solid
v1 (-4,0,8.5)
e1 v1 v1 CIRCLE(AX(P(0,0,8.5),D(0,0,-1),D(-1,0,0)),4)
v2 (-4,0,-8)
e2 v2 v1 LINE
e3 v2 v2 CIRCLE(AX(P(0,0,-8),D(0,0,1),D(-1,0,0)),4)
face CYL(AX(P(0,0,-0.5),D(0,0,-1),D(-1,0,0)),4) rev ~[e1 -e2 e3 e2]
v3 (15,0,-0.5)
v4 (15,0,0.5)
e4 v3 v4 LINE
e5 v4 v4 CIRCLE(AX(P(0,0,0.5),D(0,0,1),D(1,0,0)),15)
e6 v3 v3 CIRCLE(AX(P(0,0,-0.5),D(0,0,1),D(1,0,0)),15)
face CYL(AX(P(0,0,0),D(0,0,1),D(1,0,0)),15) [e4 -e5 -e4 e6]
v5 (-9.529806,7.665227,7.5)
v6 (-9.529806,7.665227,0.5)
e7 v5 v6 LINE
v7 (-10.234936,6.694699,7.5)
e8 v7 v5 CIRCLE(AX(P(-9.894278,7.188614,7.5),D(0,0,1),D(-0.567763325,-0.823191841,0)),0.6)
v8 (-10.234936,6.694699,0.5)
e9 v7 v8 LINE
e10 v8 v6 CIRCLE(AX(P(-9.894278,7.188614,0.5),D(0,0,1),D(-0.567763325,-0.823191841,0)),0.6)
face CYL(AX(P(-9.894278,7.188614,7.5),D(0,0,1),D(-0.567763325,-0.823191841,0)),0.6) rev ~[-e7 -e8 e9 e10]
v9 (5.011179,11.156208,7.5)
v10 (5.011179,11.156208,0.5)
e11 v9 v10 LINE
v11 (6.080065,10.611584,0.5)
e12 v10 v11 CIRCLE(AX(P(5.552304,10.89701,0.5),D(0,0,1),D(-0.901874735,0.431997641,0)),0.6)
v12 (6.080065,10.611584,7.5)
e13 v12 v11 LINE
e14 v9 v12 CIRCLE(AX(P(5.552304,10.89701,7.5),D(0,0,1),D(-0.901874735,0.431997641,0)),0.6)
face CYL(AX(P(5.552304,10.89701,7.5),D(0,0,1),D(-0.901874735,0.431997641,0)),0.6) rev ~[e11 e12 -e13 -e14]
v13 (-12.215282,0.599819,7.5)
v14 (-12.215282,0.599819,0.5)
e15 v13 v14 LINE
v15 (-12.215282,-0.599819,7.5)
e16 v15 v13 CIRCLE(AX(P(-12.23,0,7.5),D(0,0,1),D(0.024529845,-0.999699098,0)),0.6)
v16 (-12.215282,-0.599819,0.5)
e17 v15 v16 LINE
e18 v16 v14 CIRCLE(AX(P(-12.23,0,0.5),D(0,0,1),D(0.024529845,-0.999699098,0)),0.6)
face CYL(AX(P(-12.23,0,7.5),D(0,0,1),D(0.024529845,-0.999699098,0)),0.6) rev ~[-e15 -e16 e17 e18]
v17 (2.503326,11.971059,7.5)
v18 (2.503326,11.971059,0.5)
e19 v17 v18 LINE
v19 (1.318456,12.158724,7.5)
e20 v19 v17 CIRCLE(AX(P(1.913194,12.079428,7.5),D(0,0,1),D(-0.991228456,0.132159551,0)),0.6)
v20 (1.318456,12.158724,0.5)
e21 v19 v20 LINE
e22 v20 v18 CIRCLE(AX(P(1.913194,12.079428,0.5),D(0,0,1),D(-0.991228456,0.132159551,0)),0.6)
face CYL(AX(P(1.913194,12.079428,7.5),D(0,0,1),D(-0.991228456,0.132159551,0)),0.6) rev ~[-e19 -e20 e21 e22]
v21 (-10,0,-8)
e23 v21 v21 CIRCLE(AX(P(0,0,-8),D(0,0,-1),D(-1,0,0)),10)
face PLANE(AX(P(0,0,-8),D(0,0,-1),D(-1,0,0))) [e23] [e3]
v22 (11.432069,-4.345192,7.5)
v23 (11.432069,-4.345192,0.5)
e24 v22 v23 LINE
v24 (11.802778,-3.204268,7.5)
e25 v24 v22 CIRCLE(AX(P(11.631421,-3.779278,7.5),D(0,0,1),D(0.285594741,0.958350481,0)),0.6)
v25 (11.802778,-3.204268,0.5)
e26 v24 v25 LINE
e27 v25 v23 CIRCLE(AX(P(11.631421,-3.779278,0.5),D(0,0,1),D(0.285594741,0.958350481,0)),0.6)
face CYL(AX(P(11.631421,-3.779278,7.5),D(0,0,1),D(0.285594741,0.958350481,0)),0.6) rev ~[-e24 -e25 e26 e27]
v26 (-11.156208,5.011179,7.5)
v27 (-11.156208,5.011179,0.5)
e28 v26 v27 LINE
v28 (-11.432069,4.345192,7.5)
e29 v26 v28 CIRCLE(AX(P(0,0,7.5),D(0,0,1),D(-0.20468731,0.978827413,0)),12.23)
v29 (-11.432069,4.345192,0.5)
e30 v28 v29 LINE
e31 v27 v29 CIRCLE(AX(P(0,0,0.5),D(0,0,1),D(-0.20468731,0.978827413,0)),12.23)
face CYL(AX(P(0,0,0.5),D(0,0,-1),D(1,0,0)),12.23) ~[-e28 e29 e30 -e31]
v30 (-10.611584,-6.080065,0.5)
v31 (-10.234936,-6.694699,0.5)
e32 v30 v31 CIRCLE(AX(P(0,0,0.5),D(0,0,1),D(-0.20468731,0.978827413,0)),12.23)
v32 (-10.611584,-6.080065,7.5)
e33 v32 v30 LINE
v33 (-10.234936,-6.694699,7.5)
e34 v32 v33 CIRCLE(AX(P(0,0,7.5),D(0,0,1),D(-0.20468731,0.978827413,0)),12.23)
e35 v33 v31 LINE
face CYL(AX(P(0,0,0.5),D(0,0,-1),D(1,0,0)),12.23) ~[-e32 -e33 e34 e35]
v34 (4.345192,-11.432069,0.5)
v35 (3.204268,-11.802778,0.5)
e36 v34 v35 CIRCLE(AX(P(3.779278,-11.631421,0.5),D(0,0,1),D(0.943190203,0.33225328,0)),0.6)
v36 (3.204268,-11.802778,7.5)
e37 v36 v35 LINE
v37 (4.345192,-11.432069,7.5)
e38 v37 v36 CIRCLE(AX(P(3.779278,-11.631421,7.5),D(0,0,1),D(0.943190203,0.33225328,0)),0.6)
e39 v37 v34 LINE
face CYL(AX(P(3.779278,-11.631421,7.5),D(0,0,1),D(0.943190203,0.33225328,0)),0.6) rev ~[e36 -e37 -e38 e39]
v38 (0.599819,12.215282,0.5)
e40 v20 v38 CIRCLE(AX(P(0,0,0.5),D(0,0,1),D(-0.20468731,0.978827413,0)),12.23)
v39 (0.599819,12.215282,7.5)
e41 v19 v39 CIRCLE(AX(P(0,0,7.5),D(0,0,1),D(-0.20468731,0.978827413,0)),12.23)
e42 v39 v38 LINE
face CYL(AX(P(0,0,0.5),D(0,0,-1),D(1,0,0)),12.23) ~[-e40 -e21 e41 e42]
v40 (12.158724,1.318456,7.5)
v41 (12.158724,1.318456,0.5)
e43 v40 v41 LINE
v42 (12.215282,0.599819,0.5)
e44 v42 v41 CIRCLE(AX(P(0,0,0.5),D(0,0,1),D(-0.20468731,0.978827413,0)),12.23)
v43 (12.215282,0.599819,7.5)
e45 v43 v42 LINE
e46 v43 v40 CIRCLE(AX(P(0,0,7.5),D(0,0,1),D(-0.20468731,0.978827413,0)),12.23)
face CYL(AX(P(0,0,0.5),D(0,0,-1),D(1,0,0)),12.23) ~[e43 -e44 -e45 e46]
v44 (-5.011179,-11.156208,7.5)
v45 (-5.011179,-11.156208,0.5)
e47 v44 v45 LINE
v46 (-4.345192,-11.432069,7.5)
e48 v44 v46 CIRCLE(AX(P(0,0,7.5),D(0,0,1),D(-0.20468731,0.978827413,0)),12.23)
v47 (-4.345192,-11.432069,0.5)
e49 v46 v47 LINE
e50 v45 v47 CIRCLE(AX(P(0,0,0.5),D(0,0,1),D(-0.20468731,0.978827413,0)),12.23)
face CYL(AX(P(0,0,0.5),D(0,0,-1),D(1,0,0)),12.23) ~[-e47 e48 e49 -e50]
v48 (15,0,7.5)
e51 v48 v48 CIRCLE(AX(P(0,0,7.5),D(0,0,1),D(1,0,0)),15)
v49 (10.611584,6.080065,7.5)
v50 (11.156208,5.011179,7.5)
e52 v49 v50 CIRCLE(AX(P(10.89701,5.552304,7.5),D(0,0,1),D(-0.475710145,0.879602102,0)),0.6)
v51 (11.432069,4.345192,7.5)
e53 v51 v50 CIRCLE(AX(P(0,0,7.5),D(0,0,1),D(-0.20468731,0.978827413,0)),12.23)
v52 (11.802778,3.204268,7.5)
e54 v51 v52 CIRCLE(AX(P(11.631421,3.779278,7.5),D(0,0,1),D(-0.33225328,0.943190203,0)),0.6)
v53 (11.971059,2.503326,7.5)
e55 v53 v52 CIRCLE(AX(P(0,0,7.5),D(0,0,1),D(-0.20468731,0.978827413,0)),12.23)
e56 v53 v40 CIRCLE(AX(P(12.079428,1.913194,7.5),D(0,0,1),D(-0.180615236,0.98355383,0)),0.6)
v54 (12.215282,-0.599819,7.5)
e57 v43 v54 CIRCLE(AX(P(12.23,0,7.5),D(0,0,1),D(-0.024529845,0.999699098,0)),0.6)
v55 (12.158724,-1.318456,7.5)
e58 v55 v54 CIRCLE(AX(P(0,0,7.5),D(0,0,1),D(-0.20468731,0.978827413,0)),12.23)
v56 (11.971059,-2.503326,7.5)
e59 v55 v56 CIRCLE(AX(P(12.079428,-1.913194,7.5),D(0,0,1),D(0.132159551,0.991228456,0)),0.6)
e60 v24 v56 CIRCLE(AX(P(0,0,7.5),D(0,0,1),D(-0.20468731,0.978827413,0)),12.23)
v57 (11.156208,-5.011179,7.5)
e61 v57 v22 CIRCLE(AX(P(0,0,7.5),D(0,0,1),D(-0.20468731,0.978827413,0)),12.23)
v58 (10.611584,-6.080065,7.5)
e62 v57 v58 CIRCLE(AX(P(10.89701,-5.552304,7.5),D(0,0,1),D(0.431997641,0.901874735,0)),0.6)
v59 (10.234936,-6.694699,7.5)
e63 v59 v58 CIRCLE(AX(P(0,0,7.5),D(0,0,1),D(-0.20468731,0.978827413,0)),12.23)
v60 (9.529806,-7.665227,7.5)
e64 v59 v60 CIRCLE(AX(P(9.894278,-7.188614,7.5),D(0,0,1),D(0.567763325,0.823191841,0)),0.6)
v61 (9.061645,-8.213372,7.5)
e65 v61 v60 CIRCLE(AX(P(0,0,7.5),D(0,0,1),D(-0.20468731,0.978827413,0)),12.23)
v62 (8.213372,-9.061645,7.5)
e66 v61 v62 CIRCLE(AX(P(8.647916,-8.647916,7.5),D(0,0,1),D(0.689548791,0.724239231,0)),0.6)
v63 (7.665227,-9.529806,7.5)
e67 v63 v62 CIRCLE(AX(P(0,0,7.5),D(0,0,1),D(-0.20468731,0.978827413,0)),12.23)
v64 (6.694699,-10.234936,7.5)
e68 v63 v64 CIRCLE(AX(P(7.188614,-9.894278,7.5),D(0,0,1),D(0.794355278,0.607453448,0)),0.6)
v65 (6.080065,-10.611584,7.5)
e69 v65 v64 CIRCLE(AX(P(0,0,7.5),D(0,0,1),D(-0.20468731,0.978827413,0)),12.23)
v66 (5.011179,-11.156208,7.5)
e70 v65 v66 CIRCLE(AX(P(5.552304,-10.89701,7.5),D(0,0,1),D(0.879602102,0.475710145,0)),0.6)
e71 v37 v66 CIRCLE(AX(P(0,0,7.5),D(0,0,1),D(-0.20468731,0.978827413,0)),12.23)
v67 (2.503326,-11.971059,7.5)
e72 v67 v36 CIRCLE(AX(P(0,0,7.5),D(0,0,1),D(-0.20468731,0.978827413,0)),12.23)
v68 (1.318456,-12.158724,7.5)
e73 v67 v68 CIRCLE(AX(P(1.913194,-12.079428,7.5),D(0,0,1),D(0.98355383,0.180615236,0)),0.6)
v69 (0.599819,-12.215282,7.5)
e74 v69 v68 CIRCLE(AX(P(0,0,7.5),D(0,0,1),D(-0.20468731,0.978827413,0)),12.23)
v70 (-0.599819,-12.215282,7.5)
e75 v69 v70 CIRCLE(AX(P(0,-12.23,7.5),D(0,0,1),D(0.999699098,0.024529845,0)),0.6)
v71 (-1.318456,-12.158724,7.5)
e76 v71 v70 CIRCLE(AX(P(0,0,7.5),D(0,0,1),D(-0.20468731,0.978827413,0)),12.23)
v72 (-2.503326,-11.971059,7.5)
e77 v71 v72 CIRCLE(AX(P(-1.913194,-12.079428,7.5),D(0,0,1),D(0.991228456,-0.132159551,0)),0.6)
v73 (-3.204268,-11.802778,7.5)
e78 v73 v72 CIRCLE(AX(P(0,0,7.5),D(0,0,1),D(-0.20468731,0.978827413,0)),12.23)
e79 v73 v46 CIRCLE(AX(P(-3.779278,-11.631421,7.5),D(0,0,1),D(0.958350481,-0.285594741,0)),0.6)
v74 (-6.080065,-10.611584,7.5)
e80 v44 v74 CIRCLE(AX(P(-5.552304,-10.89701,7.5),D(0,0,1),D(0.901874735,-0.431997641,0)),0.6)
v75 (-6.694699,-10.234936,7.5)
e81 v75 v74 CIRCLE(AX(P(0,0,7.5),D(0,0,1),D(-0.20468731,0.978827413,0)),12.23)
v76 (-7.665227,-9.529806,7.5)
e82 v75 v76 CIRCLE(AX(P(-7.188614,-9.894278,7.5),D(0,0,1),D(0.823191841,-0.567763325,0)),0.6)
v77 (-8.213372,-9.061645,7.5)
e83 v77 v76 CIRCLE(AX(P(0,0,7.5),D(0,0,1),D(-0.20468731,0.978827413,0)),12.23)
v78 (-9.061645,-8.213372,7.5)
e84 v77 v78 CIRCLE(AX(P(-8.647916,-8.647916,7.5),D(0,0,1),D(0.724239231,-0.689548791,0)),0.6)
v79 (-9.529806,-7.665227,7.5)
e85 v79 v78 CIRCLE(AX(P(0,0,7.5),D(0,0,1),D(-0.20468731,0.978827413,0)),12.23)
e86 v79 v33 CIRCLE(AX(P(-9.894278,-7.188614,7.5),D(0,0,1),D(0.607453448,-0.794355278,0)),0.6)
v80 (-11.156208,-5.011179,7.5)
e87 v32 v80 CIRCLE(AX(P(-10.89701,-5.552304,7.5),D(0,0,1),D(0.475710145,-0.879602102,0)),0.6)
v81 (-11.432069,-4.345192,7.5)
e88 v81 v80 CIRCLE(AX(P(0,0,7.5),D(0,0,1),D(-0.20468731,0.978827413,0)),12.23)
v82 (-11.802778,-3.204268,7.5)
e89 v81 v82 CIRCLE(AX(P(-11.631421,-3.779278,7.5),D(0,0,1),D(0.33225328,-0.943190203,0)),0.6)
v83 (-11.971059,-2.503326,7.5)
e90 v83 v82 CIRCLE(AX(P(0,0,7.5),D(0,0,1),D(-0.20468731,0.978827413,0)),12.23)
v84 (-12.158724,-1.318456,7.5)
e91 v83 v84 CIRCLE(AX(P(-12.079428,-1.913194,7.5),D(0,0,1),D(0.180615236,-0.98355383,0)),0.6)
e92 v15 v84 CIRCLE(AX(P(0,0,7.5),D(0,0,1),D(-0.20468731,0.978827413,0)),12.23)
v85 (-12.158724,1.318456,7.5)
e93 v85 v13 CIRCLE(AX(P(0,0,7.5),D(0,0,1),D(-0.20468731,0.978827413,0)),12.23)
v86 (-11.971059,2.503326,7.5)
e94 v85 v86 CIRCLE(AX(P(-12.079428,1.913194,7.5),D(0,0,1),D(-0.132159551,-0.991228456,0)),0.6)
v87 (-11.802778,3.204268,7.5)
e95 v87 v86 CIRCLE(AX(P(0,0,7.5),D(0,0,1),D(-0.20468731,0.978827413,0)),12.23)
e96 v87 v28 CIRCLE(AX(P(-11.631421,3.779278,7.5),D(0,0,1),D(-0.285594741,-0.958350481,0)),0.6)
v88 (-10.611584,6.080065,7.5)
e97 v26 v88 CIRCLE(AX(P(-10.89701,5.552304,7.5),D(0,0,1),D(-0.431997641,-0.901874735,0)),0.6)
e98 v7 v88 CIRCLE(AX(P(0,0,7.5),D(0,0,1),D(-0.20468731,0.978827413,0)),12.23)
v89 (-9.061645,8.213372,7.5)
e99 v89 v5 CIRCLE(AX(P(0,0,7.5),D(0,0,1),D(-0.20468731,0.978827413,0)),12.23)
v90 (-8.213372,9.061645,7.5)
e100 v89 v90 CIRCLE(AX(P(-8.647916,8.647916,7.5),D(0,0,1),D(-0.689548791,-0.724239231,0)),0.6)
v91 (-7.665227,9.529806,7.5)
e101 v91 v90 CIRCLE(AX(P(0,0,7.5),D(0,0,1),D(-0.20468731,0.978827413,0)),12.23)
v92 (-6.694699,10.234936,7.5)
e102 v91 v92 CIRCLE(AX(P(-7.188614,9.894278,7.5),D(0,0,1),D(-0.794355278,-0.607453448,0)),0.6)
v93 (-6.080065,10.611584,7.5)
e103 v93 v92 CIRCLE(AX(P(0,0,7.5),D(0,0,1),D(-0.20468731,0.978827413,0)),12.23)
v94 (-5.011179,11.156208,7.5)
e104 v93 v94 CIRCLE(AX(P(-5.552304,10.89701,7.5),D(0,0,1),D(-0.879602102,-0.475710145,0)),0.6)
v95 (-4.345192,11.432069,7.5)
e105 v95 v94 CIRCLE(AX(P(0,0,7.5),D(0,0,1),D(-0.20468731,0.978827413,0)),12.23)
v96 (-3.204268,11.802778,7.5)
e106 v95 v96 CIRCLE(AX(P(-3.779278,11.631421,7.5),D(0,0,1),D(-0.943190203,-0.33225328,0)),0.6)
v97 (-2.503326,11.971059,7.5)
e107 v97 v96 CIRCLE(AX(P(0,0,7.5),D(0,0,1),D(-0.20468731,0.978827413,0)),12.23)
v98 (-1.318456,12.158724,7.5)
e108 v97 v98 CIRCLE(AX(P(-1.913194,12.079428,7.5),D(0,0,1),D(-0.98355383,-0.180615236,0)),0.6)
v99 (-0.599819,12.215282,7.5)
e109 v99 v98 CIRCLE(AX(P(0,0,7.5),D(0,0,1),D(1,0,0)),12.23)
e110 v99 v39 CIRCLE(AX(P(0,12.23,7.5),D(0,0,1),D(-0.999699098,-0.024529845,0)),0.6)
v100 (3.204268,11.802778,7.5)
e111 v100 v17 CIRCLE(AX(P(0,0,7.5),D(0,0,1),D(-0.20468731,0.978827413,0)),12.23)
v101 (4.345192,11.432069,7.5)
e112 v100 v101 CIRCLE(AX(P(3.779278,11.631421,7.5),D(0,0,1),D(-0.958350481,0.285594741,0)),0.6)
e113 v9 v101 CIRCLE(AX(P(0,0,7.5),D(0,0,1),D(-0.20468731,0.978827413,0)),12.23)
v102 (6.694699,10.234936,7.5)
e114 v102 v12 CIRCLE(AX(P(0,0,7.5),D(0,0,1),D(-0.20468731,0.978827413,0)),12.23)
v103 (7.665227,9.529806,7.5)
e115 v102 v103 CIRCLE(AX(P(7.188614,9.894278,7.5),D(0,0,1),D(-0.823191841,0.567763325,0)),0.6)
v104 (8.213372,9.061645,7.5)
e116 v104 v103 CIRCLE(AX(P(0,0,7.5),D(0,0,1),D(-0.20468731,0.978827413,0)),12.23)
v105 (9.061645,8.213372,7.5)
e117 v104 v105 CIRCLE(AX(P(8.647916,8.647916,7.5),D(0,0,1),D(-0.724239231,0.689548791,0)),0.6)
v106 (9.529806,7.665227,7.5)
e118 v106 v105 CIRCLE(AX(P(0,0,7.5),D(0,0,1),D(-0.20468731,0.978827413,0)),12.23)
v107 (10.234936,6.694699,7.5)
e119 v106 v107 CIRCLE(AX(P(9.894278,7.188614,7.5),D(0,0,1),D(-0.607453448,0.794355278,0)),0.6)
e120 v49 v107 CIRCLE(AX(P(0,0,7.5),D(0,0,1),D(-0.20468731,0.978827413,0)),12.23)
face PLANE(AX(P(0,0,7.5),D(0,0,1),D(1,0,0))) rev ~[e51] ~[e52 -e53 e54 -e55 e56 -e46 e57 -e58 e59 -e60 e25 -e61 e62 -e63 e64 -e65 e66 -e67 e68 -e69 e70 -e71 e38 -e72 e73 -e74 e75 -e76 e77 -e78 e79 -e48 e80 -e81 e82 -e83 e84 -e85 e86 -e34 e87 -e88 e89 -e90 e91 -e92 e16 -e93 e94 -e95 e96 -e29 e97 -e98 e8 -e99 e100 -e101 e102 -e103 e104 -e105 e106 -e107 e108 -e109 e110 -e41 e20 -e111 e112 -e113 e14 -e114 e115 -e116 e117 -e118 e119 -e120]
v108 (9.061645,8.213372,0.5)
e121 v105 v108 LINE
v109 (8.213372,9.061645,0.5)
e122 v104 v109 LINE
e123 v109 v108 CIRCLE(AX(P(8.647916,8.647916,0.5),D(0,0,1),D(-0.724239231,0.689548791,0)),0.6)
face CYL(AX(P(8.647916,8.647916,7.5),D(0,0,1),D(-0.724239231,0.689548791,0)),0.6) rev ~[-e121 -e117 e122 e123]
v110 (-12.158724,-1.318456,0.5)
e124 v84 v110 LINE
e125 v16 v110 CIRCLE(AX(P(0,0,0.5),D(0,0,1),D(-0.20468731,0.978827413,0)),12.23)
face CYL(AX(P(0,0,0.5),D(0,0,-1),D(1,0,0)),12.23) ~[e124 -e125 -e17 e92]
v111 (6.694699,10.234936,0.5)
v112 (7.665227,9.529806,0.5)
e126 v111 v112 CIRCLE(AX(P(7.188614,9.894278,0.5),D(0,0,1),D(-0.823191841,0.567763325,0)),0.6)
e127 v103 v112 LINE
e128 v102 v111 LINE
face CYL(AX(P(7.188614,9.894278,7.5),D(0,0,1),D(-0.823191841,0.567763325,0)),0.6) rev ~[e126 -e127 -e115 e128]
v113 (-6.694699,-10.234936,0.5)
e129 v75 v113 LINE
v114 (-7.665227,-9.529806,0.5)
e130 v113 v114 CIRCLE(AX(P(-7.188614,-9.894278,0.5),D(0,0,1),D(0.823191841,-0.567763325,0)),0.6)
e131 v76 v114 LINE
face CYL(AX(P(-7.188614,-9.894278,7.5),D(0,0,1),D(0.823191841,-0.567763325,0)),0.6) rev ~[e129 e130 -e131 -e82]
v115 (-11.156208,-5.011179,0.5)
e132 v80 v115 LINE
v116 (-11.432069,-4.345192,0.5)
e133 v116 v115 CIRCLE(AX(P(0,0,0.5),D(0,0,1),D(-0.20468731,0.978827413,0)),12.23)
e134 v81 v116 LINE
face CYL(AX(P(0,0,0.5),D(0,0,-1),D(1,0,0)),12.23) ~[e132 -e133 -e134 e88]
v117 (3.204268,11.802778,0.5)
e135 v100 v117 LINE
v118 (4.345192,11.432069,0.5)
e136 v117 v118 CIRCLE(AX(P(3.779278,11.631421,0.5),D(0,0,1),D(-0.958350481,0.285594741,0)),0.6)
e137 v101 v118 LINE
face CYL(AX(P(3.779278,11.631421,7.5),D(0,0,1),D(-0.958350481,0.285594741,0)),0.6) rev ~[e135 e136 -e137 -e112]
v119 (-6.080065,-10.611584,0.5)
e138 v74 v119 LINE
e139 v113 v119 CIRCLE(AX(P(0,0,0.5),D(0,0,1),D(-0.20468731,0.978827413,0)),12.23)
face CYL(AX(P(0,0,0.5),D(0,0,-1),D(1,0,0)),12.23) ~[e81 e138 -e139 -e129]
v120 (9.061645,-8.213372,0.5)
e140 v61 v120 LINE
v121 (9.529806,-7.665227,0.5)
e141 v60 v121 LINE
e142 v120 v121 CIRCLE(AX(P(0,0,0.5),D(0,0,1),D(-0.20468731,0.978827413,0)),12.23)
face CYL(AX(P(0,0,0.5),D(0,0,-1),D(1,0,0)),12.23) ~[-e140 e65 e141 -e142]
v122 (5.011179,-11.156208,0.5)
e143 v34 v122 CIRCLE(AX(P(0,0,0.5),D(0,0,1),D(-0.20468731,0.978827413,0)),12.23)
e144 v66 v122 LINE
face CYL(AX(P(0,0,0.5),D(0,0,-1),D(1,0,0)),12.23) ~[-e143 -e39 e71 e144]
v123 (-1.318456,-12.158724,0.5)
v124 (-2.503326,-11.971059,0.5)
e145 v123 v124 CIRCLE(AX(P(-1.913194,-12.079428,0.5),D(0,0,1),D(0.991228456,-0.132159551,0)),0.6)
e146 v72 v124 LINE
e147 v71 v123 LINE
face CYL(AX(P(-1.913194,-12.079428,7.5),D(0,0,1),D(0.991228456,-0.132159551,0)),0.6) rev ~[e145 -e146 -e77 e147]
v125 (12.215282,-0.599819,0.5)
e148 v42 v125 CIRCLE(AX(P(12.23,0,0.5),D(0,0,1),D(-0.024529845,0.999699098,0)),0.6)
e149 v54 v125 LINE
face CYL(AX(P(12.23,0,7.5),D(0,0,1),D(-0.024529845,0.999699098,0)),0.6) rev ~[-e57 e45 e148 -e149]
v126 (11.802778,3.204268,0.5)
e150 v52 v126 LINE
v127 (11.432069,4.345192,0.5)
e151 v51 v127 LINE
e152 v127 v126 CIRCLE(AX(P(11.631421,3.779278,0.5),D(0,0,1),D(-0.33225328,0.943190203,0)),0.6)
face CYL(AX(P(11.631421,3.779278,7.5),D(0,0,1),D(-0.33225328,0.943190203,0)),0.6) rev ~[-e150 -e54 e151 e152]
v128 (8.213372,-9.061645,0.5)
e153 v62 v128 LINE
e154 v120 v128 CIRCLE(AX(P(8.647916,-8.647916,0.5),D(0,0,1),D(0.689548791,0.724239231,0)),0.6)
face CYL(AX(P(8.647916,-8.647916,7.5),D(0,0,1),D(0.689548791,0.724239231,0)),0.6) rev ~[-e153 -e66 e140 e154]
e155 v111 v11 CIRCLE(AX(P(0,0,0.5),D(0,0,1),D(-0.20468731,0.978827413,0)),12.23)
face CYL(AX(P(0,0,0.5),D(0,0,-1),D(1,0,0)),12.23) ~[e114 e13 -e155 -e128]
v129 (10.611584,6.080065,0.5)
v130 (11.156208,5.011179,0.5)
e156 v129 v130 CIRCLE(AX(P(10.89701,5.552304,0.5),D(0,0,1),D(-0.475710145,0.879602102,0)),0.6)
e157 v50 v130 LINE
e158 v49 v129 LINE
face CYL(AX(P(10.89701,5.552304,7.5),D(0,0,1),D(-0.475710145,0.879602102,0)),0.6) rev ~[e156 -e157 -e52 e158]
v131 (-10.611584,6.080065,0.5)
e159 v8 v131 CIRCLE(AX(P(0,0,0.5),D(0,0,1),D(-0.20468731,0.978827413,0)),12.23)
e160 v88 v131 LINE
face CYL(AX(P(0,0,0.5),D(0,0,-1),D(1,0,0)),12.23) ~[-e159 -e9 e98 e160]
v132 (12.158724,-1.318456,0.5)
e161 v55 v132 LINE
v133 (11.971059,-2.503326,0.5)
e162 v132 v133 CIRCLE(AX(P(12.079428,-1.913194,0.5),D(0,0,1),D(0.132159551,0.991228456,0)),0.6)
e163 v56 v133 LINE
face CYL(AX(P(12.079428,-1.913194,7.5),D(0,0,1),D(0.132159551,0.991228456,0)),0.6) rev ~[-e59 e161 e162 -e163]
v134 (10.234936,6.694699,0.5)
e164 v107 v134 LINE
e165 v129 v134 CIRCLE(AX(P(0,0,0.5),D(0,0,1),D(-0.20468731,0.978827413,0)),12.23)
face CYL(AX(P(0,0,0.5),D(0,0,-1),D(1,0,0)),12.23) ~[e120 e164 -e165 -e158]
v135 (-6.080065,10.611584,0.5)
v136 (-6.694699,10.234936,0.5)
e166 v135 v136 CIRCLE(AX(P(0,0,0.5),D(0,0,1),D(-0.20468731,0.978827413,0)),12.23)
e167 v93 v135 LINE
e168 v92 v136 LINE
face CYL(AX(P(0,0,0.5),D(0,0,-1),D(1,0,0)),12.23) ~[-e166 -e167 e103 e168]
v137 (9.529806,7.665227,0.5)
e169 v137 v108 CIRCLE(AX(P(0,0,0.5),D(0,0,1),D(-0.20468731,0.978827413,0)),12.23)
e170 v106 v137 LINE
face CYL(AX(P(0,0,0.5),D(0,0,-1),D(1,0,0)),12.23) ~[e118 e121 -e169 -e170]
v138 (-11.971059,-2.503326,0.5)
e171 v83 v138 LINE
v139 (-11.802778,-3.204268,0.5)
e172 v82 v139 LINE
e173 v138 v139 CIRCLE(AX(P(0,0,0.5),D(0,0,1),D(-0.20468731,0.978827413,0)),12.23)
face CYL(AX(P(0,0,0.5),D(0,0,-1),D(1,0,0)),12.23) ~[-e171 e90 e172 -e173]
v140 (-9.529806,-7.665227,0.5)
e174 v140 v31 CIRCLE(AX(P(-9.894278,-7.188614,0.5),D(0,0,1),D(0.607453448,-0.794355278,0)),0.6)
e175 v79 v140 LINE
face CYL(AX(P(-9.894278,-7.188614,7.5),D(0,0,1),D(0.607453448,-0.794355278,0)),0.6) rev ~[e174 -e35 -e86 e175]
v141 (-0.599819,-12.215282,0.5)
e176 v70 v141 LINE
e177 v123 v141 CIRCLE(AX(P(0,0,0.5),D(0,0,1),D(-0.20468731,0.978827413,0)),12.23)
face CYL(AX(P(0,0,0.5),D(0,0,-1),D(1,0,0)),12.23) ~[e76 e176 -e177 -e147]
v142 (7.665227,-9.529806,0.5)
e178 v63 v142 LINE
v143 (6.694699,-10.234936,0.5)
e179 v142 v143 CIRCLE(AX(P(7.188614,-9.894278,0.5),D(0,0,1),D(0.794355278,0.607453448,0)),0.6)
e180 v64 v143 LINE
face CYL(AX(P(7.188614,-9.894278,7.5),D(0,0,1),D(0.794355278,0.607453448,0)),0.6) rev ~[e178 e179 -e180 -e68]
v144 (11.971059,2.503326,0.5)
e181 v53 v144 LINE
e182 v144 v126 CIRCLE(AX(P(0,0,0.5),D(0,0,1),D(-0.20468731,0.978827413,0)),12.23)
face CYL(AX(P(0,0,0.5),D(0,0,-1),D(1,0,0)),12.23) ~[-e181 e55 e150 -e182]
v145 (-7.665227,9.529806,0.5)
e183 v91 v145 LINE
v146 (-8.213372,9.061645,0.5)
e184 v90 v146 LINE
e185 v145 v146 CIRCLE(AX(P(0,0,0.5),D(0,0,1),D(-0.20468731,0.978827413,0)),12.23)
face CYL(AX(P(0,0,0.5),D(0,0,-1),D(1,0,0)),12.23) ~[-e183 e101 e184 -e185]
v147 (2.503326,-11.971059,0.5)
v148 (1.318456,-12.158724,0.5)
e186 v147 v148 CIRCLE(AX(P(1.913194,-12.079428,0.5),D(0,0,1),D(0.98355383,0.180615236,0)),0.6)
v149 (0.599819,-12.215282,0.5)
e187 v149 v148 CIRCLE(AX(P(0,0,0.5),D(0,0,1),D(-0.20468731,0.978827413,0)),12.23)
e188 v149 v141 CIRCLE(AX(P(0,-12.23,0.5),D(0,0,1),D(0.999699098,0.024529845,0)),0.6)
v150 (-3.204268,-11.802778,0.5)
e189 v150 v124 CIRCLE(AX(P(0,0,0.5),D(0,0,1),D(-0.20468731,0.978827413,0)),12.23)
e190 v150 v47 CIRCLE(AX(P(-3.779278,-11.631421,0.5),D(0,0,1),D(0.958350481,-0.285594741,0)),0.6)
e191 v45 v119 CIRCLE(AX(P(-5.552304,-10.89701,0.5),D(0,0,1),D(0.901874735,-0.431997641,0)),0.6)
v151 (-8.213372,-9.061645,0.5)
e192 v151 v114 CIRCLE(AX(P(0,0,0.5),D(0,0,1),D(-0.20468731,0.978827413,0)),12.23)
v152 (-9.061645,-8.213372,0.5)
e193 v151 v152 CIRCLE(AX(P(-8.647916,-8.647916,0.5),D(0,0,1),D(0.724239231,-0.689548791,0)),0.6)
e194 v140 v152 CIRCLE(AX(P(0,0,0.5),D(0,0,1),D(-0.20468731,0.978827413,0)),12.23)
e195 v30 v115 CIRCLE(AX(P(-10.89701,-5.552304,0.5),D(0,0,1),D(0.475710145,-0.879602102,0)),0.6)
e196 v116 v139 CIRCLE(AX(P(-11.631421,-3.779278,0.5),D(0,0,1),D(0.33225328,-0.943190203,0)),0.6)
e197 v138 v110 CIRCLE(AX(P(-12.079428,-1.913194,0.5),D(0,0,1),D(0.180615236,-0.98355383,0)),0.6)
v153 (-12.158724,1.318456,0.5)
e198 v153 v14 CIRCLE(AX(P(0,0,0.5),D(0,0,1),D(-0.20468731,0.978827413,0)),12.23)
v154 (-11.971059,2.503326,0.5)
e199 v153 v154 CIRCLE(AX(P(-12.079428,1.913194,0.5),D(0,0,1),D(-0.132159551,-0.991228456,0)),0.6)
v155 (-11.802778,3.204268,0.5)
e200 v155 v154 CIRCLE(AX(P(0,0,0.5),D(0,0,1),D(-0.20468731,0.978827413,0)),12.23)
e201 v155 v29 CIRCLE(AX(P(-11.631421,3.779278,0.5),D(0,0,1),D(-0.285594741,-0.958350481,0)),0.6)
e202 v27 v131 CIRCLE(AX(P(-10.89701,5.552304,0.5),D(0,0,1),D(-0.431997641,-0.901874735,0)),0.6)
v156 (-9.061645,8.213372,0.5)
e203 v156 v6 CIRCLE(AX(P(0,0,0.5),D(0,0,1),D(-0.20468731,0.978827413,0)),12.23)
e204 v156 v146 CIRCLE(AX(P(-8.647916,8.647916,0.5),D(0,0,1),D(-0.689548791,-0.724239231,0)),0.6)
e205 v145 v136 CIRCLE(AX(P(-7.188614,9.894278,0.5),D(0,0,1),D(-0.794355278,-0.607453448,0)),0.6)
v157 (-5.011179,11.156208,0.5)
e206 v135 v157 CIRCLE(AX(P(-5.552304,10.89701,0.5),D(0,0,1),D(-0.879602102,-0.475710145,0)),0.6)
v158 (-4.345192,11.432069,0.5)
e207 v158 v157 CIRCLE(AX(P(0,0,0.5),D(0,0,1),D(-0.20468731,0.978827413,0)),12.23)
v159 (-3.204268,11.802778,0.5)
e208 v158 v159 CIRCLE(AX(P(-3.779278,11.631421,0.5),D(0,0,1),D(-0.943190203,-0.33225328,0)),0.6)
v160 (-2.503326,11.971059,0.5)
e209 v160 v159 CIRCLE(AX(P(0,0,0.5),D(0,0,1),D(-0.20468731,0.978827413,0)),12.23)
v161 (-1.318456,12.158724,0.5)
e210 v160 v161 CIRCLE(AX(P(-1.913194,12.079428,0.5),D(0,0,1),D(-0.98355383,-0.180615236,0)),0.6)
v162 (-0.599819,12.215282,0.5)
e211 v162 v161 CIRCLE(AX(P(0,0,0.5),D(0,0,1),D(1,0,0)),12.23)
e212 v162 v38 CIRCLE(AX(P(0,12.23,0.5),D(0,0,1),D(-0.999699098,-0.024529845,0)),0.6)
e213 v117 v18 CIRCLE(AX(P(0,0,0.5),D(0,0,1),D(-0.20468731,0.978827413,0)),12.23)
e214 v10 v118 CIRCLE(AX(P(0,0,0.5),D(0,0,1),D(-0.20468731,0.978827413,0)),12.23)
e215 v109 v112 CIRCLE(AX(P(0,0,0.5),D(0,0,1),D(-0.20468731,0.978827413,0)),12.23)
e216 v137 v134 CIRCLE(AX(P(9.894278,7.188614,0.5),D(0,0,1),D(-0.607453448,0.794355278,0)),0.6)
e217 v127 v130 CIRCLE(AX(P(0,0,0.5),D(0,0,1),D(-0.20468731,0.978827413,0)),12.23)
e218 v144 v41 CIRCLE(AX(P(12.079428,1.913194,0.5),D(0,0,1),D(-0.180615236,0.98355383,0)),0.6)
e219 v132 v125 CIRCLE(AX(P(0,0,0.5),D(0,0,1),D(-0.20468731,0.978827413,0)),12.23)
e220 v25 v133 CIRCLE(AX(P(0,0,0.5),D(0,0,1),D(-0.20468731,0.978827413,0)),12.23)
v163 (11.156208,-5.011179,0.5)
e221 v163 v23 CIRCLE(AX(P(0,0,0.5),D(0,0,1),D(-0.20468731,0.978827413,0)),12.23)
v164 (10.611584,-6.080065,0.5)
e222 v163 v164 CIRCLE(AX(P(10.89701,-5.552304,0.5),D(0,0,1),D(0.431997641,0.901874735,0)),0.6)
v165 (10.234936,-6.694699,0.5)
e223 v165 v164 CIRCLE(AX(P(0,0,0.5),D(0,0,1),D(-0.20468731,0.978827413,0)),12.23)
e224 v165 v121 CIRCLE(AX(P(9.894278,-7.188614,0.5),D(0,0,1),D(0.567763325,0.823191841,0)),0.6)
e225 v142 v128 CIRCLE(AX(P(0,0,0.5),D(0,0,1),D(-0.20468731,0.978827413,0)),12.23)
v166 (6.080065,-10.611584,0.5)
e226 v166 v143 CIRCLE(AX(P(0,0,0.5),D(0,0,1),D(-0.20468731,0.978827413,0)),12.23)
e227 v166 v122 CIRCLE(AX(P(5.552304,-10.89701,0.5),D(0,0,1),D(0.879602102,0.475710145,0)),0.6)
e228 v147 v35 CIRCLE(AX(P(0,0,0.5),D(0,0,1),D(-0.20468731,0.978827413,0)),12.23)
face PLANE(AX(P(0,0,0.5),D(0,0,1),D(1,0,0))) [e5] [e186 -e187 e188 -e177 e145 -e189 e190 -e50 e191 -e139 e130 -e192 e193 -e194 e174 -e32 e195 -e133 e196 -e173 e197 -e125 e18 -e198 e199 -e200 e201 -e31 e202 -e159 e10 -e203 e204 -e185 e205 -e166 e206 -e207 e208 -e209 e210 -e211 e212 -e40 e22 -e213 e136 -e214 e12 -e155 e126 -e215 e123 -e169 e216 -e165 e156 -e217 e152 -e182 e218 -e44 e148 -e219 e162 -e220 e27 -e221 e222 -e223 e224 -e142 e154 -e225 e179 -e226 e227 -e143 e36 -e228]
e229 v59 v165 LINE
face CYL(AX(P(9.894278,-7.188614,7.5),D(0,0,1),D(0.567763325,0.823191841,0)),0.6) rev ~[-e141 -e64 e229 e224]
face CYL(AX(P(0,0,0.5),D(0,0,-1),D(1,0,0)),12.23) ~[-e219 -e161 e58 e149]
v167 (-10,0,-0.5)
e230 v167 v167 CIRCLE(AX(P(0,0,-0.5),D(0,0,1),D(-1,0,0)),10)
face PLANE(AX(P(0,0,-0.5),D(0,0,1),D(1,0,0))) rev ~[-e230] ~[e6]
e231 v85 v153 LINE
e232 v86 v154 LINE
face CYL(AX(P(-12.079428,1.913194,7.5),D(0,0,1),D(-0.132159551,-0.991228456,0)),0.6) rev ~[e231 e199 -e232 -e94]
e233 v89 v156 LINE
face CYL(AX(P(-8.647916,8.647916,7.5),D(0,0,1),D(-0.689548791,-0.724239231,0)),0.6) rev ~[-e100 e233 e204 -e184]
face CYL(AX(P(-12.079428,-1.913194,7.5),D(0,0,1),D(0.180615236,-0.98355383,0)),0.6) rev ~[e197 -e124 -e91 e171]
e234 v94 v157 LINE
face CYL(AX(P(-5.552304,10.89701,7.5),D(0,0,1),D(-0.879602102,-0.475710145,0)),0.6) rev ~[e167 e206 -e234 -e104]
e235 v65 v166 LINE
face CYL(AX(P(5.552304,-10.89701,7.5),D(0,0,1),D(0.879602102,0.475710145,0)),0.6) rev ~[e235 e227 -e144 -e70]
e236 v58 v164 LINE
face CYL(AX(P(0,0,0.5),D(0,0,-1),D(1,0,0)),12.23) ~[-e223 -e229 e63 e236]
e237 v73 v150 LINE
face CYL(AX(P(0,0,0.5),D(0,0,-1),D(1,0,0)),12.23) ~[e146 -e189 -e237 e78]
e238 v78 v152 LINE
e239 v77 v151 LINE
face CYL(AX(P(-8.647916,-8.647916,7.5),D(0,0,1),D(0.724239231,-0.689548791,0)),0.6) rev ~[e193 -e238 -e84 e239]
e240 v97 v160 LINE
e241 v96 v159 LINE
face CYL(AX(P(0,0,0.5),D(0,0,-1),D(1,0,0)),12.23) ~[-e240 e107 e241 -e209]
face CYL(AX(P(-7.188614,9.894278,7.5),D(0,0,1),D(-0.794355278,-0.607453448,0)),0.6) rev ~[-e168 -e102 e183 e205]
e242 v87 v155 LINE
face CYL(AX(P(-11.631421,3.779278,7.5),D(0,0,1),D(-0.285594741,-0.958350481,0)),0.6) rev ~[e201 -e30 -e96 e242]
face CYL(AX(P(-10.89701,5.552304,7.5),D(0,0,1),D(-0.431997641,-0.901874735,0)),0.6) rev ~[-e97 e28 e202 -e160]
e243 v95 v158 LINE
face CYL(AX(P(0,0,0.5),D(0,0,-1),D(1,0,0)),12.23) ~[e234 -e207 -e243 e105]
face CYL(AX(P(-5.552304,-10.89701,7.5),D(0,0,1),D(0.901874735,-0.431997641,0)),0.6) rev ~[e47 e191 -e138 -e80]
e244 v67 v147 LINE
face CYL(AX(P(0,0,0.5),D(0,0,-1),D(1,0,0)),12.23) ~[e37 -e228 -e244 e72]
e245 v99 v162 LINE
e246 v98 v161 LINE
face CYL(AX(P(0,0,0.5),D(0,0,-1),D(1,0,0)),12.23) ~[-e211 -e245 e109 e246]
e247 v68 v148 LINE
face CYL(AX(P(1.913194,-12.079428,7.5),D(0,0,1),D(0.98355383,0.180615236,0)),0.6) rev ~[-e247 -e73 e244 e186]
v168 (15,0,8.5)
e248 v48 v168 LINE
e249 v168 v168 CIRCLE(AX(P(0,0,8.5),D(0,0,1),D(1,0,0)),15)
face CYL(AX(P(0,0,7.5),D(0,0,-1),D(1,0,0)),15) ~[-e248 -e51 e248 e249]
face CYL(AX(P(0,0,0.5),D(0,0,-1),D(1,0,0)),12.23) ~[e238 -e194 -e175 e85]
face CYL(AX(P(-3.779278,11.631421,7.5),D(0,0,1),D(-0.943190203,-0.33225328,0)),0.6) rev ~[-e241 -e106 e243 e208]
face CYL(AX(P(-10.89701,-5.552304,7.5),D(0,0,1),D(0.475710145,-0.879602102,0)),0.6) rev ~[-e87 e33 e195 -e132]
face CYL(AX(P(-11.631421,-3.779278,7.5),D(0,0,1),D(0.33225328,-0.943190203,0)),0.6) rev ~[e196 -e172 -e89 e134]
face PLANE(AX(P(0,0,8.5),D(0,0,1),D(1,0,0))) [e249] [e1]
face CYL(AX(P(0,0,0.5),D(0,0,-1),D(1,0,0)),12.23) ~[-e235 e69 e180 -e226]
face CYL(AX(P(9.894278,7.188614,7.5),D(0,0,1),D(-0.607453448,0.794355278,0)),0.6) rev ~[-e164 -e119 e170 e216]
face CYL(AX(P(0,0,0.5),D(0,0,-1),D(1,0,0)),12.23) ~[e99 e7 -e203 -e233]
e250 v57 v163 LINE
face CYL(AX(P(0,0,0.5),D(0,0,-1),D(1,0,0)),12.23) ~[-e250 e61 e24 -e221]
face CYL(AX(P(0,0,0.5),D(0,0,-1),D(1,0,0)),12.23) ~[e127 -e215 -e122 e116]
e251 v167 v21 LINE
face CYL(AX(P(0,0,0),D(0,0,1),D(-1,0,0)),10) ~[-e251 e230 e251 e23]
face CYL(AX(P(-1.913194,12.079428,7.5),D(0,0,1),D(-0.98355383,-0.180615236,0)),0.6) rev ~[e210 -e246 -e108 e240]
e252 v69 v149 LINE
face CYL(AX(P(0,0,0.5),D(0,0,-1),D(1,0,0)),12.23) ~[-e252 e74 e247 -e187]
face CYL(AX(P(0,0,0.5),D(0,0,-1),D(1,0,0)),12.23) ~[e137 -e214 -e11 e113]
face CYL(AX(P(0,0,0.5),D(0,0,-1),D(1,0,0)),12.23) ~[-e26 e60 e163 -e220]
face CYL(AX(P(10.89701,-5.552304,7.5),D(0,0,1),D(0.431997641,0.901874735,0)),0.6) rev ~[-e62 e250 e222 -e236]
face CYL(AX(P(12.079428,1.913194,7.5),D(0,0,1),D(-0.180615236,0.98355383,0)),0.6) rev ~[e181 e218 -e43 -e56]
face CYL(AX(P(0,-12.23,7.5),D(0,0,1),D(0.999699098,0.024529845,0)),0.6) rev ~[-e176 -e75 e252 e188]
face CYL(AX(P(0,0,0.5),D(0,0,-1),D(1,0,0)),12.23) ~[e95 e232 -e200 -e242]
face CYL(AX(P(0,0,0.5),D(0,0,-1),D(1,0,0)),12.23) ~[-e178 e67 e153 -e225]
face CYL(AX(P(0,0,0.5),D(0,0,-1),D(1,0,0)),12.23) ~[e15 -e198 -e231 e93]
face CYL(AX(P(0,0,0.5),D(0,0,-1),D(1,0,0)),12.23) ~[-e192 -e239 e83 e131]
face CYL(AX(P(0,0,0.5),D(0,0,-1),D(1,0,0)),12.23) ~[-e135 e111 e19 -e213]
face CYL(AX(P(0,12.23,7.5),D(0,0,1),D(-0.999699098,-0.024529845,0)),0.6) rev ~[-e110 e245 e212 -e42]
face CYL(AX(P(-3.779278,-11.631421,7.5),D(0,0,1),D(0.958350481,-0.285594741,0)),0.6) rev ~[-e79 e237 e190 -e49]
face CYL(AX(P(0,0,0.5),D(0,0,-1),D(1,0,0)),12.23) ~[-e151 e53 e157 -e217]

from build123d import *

# Parameters (mm, degrees)
SKETCH_1_R               = 15
EXTRUDE_1_DEPTH          = 0.5
SKETCH_2_R               = 12.23
EXTRUDE_2_DEPTH          = 7
SKETCH_8_R               = 10
EXTRUDE_4_DEPTH          = 8
CUT_EXTRUDE_3_DEPTH      = 7
SKETCH_3_R               = 15
EXTRUDE_3_DEPTH          = 1
SKETCH_6_R               = 4
CUT_EXTRUDE_2_DEPTH      = 8.5
CUT_EXTRUDE_2_DEPTH_BACK = 10
PATTERN_CIRCULAR_2_COUNT = 40


with BuildPart() as part:
    # 草圖1 → 填料-伸長1 (new body, symmetric)
    with BuildSketch(Plane.XY):
        Circle(SKETCH_1_R)
    extrude(amount=EXTRUDE_1_DEPTH, both=True)

    # 草圖2 → 填料-伸長2 (add)
    with BuildSketch(Plane.XY.offset(0.5)):
        Circle(SKETCH_2_R)
    extrude(amount=EXTRUDE_2_DEPTH)

    # 草圖8 → 填料-伸長4 (add)
    with BuildSketch(Plane(origin=(0, 0, 0), x_dir=(-1, 0, 0), z_dir=(0, 0, -1))):
        Circle(SKETCH_8_R)
    extrude(amount=EXTRUDE_4_DEPTH)

    # 草圖7 → 除料-伸長3 (cut)
    with BuildSketch(Plane.XY.offset(7.5)):
        with BuildLine():
            ThreePointArc((-0.599819459, 12.215282093), (0, 11.63), (0.599819459, 12.215282093))
            ThreePointArc((0.599819459, 12.215282093), (0, 12.23), (-0.599819459, 12.215282093))
        make_face()
    cut_extrude_3 = extrude(amount=-CUT_EXTRUDE_3_DEPTH, mode=Mode.SUBTRACT)

    # 草圖3 → 填料-伸長3 (add)
    with BuildSketch(Plane.XY.offset(7.5)):
        Circle(SKETCH_3_R)
    extrude(amount=EXTRUDE_3_DEPTH)

    # 草圖6 → 除料-伸長2 (cut, two sides)
    with BuildSketch(Plane(origin=(0, 0, -0.5), x_dir=(-1, 0, 0), z_dir=(0, 0, -1))) as cut_extrude_2_sk:
        Circle(SKETCH_6_R)
    extrude(amount=CUT_EXTRUDE_2_DEPTH, mode=Mode.SUBTRACT)
    extrude(cut_extrude_2_sk.sketch, amount=-CUT_EXTRUDE_2_DEPTH_BACK, mode=Mode.SUBTRACT)

    # 環狀複製排列2: 除料-伸長3 ×40 about axis
    pattern_circular_2_axis = Axis((0, 0, 0), (0, 0, 1))
    for i in range(1, PATTERN_CIRCULAR_2_COUNT):
        add(cut_extrude_3.rotate(pattern_circular_2_axis, i * 360 / PATTERN_CIRCULAR_2_COUNT), mode=Mode.SUBTRACT)


solid = part.part
